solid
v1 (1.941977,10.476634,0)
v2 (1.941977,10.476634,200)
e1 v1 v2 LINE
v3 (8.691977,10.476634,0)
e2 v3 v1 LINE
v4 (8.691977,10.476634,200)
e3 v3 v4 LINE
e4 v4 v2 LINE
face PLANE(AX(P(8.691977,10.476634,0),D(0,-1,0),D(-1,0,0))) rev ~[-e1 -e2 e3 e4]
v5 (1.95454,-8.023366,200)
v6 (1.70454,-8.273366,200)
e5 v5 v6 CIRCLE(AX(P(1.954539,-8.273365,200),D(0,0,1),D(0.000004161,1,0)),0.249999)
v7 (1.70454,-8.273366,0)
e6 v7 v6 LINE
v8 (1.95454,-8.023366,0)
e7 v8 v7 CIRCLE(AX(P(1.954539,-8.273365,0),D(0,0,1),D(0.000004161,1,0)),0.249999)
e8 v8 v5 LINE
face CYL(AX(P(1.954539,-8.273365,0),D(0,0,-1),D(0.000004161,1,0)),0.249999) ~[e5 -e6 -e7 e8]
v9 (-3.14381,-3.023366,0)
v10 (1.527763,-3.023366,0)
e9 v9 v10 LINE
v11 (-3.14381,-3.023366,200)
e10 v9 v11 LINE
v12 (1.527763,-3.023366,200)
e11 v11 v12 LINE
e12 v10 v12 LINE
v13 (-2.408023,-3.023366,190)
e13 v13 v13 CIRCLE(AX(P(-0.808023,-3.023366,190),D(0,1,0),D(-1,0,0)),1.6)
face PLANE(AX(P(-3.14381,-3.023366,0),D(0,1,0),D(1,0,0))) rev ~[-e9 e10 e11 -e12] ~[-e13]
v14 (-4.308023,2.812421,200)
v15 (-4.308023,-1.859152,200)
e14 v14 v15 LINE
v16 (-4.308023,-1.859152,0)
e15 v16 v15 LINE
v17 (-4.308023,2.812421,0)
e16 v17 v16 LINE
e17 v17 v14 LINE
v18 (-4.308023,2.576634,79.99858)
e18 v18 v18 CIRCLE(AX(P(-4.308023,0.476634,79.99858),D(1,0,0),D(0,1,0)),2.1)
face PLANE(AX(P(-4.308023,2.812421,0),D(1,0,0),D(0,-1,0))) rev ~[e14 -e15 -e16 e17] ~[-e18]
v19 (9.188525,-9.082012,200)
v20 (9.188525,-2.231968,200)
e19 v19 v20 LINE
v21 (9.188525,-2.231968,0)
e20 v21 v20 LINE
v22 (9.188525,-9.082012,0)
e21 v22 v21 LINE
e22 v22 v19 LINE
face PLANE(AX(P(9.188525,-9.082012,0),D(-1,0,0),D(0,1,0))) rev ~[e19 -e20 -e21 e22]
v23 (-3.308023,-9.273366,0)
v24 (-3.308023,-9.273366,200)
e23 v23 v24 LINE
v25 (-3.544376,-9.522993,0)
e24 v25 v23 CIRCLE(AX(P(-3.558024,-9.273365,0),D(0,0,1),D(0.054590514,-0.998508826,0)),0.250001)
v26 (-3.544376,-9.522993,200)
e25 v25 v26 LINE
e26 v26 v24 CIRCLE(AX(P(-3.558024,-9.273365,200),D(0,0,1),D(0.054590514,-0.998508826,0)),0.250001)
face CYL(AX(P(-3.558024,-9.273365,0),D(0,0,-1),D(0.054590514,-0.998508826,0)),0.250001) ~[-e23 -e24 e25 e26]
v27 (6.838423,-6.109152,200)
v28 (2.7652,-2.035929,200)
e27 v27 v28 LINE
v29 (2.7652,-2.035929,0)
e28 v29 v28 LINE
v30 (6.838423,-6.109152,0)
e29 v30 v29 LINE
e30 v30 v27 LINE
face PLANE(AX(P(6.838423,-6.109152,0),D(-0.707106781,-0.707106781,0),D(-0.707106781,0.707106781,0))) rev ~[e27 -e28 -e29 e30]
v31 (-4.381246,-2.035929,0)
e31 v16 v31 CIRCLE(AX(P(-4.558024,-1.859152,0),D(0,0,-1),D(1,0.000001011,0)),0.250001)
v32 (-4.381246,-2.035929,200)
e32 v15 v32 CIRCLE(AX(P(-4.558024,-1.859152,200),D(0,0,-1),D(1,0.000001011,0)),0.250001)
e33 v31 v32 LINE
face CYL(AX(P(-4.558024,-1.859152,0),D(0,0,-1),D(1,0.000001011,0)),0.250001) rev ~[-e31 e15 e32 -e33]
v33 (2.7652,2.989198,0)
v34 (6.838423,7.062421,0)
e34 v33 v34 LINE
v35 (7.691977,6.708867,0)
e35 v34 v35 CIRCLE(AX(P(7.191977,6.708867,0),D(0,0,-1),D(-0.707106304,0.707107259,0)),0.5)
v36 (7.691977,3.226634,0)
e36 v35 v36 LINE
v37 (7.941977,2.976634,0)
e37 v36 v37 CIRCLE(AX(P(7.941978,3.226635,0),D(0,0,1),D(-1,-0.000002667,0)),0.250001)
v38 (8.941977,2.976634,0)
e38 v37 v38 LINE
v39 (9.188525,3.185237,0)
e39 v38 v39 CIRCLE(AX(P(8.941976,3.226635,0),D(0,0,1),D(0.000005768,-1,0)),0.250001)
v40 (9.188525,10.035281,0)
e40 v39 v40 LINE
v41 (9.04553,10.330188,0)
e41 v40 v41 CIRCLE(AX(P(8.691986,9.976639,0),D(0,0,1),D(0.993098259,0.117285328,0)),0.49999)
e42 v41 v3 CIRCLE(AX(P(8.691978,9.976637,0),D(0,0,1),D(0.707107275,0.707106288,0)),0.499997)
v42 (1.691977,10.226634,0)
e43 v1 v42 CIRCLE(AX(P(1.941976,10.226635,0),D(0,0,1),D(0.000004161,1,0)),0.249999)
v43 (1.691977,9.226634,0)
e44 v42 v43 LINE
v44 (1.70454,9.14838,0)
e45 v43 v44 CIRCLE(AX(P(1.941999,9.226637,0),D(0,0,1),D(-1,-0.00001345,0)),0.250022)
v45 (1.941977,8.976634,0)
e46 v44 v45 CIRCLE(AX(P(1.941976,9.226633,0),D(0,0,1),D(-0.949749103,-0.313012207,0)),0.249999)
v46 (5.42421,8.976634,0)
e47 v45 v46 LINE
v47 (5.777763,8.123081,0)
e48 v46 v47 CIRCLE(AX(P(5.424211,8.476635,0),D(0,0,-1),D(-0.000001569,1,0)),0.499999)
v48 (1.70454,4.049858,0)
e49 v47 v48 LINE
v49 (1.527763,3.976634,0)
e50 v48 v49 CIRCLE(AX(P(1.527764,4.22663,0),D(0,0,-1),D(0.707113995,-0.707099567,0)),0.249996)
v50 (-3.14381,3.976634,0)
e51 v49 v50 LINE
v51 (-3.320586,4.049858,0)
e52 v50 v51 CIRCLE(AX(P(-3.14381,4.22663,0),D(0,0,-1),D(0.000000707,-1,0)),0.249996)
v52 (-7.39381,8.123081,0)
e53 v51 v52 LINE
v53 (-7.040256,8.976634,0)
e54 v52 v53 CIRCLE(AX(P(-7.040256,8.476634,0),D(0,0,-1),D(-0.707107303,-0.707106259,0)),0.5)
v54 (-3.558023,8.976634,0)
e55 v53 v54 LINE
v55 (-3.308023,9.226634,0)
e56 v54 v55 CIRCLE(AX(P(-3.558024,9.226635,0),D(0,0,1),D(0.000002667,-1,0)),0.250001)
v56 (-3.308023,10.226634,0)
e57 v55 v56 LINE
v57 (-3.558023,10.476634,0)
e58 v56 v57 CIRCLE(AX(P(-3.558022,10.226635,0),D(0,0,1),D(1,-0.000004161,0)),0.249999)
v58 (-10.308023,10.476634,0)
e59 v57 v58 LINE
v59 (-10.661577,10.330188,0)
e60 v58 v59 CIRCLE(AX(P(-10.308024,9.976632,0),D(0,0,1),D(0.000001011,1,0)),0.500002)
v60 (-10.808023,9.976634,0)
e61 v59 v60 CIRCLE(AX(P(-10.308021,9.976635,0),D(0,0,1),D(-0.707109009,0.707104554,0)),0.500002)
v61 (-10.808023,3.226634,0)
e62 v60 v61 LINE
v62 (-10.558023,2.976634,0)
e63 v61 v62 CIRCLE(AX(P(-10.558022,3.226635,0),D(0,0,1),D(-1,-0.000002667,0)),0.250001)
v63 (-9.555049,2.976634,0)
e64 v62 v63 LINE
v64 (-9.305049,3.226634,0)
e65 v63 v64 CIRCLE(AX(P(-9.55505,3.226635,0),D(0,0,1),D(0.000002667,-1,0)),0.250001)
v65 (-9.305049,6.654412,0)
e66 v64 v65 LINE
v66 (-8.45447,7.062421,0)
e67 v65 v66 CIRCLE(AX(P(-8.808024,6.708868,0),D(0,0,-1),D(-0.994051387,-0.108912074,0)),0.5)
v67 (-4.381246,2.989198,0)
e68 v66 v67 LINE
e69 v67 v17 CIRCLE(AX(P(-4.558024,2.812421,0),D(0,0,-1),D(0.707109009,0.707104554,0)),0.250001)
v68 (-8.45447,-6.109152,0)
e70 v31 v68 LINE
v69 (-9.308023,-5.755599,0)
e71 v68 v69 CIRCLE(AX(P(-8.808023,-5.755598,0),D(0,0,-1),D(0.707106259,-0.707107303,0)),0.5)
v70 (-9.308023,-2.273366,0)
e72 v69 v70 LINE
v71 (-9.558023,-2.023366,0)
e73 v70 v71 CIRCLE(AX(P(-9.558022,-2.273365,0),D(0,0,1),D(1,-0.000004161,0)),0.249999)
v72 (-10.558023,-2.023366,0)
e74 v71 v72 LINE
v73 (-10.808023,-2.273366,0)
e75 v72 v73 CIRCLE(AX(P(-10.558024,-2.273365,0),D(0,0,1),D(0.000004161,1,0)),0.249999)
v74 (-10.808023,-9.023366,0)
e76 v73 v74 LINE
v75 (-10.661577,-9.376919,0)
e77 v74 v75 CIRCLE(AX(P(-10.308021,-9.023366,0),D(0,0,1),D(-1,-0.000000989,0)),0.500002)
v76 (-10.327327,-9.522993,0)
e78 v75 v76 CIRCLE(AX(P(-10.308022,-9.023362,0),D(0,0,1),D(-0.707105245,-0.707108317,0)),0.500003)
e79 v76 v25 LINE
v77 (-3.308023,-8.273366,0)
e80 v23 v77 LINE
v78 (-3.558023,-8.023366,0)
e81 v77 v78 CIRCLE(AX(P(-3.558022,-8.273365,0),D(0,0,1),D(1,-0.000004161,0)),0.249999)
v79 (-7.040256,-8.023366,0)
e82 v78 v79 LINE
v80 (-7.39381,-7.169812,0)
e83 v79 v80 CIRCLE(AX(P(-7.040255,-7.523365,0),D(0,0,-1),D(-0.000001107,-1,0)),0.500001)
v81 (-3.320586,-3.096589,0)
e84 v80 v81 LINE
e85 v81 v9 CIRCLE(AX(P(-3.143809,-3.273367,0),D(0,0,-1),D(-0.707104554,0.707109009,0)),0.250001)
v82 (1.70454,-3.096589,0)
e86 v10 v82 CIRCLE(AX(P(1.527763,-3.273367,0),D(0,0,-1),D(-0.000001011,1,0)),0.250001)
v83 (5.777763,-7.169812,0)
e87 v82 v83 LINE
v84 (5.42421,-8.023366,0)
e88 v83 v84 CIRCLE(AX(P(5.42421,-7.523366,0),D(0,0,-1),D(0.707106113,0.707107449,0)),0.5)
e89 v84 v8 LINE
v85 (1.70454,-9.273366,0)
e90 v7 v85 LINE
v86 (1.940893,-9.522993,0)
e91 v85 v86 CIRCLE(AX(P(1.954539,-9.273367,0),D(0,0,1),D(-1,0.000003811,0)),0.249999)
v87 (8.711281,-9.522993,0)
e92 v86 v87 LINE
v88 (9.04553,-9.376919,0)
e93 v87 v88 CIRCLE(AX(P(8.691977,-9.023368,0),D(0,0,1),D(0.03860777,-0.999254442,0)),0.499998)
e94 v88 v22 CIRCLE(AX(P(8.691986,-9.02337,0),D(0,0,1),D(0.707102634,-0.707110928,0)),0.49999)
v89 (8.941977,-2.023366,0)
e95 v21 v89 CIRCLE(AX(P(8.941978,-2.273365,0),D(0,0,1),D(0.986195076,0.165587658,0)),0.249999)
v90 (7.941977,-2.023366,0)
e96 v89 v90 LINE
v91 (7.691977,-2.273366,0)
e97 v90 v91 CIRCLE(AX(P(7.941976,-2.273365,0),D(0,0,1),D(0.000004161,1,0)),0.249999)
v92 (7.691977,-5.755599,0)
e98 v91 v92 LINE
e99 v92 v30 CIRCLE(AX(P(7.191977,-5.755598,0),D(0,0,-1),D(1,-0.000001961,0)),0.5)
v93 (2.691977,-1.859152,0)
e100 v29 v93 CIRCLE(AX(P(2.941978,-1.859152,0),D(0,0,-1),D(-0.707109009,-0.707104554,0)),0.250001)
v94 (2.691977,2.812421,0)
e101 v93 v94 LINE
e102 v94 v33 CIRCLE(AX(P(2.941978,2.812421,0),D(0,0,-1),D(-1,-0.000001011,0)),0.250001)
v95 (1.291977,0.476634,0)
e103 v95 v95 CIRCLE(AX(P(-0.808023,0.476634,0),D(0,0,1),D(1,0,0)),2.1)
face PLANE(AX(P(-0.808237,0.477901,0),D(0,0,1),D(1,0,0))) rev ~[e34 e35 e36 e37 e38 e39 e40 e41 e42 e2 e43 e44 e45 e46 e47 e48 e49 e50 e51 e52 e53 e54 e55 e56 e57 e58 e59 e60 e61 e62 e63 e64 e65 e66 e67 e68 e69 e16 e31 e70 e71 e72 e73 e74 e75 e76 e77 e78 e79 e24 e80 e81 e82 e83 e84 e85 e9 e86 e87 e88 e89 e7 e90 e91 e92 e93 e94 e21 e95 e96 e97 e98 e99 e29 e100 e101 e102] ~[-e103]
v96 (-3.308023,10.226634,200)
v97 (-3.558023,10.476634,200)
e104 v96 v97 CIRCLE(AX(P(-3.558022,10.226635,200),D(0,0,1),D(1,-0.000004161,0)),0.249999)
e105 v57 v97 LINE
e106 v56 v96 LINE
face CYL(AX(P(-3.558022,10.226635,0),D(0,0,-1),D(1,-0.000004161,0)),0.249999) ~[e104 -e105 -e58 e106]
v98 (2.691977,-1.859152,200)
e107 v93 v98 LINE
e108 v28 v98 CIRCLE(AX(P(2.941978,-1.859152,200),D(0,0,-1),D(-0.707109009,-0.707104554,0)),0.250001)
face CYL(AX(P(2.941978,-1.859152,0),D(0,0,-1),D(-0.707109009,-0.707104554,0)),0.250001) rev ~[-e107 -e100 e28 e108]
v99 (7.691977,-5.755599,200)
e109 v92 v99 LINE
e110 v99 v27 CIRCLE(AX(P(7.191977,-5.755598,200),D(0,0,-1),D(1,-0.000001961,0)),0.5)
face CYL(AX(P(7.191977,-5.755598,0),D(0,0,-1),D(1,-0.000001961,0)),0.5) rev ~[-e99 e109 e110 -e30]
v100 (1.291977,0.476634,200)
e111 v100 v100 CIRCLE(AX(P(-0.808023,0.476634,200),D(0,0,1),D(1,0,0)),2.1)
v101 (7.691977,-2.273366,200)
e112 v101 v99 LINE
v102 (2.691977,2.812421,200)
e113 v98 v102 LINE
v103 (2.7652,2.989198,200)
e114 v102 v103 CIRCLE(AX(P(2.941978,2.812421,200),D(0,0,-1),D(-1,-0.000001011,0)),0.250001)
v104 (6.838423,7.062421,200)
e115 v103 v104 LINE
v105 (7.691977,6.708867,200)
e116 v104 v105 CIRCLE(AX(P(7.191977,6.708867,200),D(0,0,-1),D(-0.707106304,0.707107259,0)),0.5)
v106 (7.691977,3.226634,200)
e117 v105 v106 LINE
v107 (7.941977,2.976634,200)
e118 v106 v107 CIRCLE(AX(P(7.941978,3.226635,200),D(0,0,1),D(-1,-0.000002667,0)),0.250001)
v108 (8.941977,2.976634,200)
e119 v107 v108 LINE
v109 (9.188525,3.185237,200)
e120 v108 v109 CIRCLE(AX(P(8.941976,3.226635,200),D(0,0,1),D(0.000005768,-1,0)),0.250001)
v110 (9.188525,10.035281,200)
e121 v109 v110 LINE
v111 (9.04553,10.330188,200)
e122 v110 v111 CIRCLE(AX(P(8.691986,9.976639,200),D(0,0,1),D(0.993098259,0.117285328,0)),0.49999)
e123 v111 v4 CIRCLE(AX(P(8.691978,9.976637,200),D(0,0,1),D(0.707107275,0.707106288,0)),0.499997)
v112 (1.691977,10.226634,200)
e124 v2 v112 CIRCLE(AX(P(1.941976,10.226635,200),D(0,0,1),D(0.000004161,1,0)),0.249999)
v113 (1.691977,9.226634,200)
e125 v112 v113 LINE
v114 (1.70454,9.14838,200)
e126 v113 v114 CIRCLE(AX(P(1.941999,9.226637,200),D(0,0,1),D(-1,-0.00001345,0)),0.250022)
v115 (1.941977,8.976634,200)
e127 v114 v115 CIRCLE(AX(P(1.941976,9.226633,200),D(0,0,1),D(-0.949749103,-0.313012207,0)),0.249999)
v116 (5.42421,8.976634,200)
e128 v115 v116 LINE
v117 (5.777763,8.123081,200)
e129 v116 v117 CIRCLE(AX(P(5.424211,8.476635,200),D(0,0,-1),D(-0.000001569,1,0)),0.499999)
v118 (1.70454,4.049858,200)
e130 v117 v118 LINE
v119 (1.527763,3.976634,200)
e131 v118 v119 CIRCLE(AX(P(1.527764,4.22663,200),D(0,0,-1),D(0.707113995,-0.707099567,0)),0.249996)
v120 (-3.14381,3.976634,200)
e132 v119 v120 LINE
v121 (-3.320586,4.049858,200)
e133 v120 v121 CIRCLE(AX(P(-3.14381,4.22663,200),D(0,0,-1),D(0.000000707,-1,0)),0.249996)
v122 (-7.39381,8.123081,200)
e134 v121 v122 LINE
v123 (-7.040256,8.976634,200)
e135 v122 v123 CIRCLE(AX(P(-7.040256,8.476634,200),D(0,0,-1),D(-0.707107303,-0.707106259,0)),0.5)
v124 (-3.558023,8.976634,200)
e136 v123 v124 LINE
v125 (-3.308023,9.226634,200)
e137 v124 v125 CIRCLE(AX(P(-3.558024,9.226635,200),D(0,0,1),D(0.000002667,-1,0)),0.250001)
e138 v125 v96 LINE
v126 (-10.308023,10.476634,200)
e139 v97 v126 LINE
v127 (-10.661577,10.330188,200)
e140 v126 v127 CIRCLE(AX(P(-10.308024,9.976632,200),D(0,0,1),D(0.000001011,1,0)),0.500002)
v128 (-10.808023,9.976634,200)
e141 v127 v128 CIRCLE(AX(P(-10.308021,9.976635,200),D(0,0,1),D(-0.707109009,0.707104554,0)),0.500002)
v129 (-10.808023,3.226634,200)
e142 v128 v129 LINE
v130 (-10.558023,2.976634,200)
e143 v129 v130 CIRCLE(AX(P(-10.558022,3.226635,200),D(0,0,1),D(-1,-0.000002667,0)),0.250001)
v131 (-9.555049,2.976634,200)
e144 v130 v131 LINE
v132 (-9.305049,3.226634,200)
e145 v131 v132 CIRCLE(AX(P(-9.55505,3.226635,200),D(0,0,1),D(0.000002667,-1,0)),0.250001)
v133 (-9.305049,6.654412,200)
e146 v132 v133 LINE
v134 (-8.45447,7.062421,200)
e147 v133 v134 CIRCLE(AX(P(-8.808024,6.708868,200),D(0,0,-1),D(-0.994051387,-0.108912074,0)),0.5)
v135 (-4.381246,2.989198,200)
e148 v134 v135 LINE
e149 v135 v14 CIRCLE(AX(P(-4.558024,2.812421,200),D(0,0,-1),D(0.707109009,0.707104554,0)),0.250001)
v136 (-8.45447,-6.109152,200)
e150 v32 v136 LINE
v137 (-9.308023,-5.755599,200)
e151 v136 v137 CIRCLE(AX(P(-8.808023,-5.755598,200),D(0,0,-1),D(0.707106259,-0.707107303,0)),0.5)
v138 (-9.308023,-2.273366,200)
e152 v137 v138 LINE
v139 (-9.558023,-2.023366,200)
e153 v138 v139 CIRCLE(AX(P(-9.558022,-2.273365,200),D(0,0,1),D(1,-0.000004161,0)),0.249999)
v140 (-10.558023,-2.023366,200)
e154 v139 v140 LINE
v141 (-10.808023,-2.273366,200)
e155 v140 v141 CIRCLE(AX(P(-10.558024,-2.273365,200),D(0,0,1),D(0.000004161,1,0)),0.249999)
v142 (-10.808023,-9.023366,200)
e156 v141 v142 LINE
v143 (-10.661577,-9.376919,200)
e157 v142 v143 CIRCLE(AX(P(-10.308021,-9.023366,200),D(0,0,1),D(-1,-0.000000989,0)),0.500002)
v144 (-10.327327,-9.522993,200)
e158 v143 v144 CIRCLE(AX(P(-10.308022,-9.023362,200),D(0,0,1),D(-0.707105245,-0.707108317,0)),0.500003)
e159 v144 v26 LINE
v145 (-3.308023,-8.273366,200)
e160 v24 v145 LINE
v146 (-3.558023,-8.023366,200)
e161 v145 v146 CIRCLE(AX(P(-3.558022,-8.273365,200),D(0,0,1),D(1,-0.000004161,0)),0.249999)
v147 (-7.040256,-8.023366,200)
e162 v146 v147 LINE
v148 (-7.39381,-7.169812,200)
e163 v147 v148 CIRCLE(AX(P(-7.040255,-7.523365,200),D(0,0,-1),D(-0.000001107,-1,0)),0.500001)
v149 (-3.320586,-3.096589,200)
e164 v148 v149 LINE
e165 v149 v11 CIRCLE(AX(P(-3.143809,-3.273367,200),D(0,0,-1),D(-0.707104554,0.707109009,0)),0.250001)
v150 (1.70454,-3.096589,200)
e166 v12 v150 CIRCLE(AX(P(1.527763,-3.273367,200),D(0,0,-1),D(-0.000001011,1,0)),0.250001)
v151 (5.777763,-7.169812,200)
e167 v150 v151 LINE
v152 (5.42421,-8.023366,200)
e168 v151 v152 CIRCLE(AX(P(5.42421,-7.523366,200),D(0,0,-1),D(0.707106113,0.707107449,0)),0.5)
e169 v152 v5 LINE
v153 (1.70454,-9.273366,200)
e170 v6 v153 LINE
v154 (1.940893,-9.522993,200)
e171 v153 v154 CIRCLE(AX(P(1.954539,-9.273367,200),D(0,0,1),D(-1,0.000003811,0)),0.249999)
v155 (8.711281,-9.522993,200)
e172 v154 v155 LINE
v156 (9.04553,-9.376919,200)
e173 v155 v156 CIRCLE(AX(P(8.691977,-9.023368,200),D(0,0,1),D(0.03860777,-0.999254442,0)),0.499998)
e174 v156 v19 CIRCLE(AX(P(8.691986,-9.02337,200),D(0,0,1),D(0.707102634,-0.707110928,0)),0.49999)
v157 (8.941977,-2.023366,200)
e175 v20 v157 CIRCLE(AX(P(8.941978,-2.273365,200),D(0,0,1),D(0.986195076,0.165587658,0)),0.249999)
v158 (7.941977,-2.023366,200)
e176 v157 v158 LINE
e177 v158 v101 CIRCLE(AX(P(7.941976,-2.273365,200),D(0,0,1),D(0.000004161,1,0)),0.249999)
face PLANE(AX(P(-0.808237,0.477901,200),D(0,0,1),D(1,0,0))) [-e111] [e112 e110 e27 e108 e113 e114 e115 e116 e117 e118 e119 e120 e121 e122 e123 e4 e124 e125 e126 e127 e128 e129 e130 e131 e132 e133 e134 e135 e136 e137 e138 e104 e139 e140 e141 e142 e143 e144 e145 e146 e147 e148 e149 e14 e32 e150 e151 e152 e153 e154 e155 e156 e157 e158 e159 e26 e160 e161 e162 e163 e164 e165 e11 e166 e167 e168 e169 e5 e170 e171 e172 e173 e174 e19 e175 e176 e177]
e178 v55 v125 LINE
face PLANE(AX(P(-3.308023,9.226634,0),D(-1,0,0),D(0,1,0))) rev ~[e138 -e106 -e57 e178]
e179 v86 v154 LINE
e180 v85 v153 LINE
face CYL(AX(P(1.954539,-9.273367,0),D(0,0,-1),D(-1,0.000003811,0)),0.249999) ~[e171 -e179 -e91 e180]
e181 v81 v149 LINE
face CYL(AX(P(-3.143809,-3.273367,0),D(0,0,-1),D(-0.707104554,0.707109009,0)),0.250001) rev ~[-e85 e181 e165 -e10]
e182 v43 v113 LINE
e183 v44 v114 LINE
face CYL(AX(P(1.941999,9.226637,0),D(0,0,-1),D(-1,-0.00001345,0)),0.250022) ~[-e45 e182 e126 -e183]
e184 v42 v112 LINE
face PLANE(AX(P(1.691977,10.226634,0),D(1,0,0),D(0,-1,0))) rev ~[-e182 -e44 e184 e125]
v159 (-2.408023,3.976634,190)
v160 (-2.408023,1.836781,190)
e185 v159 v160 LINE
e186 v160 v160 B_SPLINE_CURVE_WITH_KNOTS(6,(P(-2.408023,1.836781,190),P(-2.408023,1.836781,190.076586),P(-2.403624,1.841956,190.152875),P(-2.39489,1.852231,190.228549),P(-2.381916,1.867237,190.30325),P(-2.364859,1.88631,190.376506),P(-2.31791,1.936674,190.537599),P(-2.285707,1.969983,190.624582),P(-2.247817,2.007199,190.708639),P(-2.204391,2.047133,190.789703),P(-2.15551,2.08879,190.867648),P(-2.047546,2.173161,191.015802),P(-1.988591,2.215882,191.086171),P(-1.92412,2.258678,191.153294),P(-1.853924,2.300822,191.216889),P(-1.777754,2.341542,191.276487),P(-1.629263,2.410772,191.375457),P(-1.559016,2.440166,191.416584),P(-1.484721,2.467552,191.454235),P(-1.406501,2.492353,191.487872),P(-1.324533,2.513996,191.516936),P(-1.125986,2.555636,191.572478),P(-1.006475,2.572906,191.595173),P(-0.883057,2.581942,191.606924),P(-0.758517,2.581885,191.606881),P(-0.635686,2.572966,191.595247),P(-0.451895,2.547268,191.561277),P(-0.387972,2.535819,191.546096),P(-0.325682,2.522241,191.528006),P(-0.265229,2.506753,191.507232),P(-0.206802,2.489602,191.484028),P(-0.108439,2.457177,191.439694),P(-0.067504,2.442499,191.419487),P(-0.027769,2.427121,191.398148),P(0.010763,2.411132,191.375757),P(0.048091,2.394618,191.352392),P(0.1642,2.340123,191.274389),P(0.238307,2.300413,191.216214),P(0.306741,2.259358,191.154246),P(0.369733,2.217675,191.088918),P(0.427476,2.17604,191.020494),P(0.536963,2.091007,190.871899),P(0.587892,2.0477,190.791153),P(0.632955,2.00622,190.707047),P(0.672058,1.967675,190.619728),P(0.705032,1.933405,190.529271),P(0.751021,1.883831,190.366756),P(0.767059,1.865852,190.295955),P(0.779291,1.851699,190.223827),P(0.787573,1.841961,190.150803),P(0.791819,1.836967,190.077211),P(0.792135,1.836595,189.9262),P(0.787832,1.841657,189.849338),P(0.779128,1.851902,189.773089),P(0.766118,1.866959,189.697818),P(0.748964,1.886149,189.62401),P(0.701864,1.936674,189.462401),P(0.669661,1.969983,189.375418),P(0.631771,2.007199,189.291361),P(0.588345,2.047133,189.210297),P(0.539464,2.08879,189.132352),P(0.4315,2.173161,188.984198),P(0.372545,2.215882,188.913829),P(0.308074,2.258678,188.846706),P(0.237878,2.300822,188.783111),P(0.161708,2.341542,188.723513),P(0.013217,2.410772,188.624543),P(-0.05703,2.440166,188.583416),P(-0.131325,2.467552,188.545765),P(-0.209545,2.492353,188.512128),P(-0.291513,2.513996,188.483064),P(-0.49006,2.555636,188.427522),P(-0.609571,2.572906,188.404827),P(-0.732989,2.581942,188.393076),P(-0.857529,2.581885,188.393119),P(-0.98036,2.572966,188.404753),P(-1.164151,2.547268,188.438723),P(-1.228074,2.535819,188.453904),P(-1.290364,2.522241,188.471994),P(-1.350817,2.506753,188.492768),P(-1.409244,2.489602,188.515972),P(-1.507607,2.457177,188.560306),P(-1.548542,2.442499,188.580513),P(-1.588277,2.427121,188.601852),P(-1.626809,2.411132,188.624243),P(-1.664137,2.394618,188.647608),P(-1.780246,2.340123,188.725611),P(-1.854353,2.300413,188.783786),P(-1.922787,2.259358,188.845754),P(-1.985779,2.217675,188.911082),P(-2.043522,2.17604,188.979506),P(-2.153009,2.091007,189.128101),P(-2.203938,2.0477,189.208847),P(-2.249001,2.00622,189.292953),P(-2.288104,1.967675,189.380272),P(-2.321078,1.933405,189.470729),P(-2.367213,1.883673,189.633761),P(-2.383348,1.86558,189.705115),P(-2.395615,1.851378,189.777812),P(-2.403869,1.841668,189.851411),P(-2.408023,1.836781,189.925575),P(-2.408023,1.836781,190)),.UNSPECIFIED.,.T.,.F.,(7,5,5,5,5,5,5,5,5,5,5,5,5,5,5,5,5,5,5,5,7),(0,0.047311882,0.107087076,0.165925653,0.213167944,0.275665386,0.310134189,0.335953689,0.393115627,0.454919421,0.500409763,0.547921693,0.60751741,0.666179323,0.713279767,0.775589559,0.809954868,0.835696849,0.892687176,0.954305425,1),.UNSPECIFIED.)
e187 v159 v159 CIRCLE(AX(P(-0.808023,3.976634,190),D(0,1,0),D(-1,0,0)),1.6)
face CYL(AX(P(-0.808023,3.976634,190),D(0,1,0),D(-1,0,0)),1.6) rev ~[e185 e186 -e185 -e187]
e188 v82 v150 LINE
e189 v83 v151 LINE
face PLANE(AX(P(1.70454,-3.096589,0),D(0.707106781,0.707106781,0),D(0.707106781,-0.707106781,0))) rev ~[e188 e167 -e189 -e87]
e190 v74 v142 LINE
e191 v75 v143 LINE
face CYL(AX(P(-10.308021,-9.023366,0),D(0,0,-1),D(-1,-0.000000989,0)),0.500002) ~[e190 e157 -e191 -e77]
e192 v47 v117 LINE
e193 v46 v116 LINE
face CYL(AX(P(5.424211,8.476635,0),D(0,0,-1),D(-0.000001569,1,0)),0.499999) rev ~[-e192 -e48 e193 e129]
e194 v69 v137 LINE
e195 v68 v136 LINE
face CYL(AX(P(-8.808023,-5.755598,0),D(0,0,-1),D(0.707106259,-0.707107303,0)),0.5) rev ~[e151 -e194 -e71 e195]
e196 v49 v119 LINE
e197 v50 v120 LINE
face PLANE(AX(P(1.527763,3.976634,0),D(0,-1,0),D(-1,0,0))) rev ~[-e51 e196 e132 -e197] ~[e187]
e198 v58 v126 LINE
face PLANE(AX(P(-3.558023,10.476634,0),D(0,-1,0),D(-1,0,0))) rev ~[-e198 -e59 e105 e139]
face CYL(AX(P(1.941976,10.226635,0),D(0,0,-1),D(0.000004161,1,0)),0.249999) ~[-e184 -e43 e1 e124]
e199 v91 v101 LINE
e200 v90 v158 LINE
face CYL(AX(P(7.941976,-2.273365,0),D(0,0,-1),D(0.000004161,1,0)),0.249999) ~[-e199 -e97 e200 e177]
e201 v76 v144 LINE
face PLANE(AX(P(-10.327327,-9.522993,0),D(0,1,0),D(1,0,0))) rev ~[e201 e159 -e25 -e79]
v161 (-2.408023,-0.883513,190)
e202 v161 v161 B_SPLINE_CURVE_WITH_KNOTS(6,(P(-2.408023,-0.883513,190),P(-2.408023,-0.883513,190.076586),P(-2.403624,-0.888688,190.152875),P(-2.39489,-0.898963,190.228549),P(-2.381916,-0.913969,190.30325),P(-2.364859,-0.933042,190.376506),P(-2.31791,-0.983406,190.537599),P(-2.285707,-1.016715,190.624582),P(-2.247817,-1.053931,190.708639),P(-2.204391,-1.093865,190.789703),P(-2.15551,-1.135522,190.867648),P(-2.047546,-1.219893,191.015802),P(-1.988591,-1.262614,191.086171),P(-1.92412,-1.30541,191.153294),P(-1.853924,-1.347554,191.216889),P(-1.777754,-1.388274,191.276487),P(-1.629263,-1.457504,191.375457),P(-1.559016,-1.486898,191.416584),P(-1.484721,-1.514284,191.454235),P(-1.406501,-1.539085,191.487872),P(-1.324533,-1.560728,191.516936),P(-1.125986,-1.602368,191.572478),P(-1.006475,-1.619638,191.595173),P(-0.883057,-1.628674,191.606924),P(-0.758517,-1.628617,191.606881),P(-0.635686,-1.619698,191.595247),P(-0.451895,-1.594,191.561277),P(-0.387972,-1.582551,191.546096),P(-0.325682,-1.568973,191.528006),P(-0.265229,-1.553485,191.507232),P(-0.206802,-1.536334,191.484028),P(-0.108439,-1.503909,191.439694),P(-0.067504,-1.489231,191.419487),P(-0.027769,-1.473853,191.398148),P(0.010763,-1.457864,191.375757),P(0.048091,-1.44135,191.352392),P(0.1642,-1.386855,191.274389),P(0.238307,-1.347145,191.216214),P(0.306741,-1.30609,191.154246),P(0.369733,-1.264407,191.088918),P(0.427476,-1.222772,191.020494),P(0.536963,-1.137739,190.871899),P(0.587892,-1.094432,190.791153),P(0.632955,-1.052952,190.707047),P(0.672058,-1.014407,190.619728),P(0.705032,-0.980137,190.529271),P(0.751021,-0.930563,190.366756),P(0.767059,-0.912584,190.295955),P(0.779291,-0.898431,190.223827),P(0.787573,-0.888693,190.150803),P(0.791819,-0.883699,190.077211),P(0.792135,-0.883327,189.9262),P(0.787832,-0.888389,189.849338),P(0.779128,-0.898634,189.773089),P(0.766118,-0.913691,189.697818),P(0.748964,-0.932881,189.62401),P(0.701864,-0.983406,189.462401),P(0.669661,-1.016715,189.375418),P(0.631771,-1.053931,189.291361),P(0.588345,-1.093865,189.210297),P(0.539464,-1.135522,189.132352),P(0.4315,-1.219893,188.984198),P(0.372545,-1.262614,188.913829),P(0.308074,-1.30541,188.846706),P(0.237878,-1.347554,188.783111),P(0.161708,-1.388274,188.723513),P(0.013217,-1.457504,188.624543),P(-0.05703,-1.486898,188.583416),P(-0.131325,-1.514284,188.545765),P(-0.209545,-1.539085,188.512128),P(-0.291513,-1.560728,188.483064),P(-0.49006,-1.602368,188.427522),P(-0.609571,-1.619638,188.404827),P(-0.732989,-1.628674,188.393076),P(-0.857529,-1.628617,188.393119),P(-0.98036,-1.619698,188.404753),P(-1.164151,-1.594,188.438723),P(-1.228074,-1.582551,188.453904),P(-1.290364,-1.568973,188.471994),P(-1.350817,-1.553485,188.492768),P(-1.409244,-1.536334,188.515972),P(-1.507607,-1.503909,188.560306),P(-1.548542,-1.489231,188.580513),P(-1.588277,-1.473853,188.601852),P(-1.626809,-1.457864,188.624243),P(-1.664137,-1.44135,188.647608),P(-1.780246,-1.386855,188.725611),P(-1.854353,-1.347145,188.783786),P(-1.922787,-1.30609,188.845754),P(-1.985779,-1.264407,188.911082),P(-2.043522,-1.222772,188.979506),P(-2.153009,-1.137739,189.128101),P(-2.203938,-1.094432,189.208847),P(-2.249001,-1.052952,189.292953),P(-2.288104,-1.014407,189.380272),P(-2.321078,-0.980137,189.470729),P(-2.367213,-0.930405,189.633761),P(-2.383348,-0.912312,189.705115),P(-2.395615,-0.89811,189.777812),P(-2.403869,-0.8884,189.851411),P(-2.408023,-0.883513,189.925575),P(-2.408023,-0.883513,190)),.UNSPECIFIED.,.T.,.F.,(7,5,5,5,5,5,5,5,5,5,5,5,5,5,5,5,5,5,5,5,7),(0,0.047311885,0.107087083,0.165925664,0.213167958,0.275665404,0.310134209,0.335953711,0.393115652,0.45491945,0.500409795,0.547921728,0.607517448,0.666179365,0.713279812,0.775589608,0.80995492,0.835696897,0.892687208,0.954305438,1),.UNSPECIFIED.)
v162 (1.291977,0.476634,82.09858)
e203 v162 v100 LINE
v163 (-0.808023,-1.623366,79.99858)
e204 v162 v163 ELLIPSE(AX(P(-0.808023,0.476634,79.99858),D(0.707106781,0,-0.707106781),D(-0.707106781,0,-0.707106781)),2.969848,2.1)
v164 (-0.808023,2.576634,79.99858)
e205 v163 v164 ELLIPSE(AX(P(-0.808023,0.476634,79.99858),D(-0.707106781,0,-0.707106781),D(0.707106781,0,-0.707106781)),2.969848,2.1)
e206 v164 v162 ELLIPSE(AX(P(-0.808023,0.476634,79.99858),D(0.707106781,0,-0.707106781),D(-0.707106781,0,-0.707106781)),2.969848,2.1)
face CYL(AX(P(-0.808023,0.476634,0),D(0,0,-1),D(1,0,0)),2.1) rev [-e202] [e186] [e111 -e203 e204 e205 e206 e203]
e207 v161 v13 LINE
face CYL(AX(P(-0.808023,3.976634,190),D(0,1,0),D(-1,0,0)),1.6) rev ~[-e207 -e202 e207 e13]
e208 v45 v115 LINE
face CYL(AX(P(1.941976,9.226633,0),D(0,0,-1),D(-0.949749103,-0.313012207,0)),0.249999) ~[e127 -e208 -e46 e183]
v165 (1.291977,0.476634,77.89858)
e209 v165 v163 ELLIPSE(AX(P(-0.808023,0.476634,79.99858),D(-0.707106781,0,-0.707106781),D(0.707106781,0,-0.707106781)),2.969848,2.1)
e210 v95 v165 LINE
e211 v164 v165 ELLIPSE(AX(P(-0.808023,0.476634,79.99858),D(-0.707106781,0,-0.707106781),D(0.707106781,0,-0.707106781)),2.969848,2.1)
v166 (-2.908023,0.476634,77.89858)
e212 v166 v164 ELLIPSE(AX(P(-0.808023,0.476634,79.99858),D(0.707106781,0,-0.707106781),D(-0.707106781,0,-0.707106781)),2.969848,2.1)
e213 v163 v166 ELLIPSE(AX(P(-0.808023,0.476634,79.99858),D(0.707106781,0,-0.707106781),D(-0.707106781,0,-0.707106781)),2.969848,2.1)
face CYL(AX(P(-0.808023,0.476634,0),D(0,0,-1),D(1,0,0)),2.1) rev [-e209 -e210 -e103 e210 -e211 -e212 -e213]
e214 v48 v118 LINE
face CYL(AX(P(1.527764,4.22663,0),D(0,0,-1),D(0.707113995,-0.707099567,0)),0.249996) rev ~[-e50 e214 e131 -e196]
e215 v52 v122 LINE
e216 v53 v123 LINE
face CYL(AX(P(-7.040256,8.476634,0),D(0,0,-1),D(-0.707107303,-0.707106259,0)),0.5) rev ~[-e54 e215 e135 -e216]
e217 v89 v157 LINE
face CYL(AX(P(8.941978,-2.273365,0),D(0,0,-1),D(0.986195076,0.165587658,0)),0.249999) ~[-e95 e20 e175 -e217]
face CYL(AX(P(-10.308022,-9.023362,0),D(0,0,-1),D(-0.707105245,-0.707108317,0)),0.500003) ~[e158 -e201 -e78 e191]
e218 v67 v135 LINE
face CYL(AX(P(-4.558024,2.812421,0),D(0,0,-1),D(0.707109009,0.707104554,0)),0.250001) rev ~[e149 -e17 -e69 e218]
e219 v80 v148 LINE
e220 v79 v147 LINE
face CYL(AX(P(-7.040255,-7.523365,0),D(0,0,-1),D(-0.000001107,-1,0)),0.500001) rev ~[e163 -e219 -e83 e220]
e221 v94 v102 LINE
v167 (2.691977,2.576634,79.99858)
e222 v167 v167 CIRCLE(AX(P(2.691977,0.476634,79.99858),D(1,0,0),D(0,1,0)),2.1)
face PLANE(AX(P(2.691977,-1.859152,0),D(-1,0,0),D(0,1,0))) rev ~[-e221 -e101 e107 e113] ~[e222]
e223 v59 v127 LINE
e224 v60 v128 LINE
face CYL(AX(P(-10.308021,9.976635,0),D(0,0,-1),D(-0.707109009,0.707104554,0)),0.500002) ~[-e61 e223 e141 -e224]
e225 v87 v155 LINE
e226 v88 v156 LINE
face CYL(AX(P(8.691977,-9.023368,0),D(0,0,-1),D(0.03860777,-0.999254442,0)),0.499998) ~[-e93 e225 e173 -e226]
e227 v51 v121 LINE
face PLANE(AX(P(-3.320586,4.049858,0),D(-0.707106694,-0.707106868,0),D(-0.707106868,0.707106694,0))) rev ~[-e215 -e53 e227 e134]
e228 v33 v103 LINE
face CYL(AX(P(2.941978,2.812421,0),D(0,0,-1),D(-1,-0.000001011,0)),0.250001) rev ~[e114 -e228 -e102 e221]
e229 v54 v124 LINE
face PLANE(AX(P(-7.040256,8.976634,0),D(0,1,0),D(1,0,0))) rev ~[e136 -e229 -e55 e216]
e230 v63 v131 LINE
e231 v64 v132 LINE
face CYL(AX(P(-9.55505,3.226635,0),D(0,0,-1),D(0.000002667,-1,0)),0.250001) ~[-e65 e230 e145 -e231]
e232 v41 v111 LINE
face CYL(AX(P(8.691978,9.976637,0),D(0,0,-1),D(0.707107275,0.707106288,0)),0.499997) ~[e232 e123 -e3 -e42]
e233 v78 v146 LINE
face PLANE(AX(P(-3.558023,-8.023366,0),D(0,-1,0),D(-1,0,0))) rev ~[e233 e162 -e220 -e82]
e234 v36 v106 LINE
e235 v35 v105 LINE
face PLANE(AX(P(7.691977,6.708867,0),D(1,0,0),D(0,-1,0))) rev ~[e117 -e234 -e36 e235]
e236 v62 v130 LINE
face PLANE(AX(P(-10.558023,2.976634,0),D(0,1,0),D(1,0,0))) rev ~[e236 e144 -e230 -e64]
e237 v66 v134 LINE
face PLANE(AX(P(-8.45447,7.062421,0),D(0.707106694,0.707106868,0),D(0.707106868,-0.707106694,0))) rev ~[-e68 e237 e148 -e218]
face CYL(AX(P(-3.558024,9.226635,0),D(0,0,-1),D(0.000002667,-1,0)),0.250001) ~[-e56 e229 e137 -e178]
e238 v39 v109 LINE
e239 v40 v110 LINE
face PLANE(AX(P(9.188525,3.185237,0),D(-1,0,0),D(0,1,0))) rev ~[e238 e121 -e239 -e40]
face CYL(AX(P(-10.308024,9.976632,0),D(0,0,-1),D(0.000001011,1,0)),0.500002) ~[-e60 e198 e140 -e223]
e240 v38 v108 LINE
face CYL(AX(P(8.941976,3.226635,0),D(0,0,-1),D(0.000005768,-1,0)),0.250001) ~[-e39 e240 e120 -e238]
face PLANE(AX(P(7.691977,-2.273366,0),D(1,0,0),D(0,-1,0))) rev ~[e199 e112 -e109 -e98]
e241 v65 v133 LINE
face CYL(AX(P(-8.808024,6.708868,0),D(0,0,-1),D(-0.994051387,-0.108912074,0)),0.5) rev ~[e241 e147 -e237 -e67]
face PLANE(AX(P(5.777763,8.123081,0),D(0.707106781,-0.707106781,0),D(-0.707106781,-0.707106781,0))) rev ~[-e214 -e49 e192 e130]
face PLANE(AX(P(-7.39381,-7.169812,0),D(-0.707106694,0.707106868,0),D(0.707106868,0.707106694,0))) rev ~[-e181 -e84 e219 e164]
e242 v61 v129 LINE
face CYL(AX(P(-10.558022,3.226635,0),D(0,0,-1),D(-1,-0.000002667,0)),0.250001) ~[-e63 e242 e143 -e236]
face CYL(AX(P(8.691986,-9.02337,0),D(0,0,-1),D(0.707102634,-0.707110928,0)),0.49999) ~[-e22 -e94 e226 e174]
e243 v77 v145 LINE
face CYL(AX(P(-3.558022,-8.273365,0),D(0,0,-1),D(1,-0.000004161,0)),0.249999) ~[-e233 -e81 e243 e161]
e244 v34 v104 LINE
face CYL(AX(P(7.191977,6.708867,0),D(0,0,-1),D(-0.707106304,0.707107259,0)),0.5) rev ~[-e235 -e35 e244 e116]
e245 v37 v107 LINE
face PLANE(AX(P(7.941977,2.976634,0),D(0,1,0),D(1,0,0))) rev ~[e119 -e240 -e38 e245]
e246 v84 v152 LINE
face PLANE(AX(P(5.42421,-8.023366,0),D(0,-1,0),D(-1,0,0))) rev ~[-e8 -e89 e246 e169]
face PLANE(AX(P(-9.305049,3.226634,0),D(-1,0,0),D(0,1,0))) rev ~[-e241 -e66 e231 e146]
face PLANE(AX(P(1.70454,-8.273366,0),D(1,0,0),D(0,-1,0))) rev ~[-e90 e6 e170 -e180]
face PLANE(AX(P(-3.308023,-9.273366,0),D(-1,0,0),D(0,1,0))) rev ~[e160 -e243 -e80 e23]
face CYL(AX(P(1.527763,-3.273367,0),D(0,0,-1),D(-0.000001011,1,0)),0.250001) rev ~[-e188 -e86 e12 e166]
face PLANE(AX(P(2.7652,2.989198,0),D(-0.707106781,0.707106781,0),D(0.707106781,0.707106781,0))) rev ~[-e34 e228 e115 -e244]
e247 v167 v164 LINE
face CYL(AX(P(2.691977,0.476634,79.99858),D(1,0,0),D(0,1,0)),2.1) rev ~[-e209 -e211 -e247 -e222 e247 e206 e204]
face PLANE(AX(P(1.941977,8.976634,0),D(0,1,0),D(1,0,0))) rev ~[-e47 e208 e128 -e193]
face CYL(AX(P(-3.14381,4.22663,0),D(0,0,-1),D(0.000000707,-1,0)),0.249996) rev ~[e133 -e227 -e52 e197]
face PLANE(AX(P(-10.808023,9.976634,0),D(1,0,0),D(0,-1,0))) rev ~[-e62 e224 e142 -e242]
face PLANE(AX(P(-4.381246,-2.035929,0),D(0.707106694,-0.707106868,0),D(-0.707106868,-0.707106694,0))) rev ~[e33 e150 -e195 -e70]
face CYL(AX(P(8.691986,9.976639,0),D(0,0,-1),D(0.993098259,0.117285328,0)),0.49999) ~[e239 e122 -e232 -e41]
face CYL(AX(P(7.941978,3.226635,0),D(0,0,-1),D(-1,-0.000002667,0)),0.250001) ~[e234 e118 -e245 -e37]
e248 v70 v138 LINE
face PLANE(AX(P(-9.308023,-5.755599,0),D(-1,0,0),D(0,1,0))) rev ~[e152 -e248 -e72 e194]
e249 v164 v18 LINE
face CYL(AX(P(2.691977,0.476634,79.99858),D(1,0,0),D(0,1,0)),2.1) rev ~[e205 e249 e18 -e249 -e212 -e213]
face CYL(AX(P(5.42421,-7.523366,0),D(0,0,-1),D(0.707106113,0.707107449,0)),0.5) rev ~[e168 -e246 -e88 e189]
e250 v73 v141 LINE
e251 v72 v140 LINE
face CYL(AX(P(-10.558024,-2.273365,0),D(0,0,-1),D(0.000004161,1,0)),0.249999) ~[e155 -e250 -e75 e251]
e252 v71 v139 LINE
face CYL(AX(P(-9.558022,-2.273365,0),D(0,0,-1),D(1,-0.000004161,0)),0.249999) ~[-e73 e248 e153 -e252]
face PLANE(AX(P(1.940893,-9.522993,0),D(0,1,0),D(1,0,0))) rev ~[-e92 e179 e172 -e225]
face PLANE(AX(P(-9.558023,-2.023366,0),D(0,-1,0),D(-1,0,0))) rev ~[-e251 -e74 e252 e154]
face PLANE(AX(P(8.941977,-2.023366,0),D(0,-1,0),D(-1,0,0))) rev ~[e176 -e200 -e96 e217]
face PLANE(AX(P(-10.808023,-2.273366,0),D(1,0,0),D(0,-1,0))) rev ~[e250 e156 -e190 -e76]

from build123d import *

# Parameters (mm, degrees)
F0_R     = 2.1
F1_DEPTH = 200
F2_R     = 2.1
F3_DEPTH = 7
F4_R     = 1.6
F5_DEPTH = 7


with BuildPart() as f1:
    # F0 (on Top) → F1 (new body)
    with BuildSketch(Plane.XY):
        with BuildLine():
            ThreePointArc((-3.308023, 10.226634), (-3.381246, 10.403411), (-3.558023, 10.476634))
            Line((-3.558023, 10.476634), (-10.308023, 10.476634))
            ThreePointArc((-10.308023, 10.476634), (-10.499365, 10.438574), (-10.661577, 10.330188))
            ThreePointArc((-10.661577, 10.330188), (-10.769963, 10.167976), (-10.808023, 9.976634))
            Line((-10.808023, 9.976634), (-10.808023, 3.226634))
            ThreePointArc((-10.808023, 3.226634), (-10.7348, 3.049858), (-10.558023, 2.976634))
            Line((-10.558023, 2.976634), (-9.555049, 2.976634))
            ThreePointArc((-9.555049, 2.976634), (-9.378272, 3.049858), (-9.305049, 3.226634))
            Line((-9.305049, 3.226634), (-9.305049, 6.654412))
            ThreePointArc((-9.305049, 6.654412), (-9.024273, 7.159685), (-8.45447, 7.062421))
            Line((-8.45447, 7.062421), (-4.381246, 2.989198))
            ThreePointArc((-4.381246, 2.989198), (-4.327053, 2.908092), (-4.308023, 2.812421))
            Line((-4.308023, 2.812421), (-4.308023, -1.859152))
            ThreePointArc((-4.308023, -1.859152), (-4.327053, -1.954823), (-4.381246, -2.035929))
            Line((-4.381246, -2.035929), (-8.45447, -6.109152))
            ThreePointArc((-8.45447, -6.109152), (-8.999365, -6.217538), (-9.308023, -5.755599))
            Line((-9.308023, -5.755599), (-9.308023, -2.273366))
            ThreePointArc((-9.308023, -2.273366), (-9.381246, -2.096589), (-9.558023, -2.023366))
            Line((-9.558023, -2.023366), (-10.558023, -2.023366))
            ThreePointArc((-10.558023, -2.023366), (-10.7348, -2.096589), (-10.808023, -2.273366))
            Line((-10.808023, -2.273366), (-10.808023, -9.023366))
            ThreePointArc((-10.808023, -9.023366), (-10.769963, -9.214707), (-10.661577, -9.376919))
            ThreePointArc((-10.661577, -9.376919), (-10.508248, -9.481525), (-10.327327, -9.522993))
            Line((-10.327327, -9.522993), (-3.544376, -9.522993))
            ThreePointArc((-3.544376, -9.522993), (-3.376486, -9.44525), (-3.308023, -9.273366))
            Line((-3.308023, -9.273366), (-3.308023, -8.273366))
            ThreePointArc((-3.308023, -8.273366), (-3.381246, -8.096589), (-3.558023, -8.023366))
            Line((-3.558023, -8.023366), (-7.040256, -8.023366))
            ThreePointArc((-7.040256, -8.023366), (-7.502196, -7.714707), (-7.39381, -7.169812))
            Line((-7.39381, -7.169812), (-3.320586, -3.096589))
            ThreePointArc((-3.320586, -3.096589), (-3.23948, -3.042396), (-3.14381, -3.023366))
            Line((-3.14381, -3.023366), (1.527763, -3.023366))
            ThreePointArc((1.527763, -3.023366), (1.623434, -3.042396), (1.70454, -3.096589))
            Line((1.70454, -3.096589), (5.777763, -7.169812))
            ThreePointArc((5.777763, -7.169812), (5.88615, -7.714707), (5.42421, -8.023366))
            Line((5.42421, -8.023366), (1.95454, -8.023366))
            ThreePointArc((1.95454, -8.023366), (1.777763, -8.096589), (1.70454, -8.273366))
            Line((1.70454, -8.273366), (1.70454, -9.273366))
            ThreePointArc((1.70454, -9.273366), (1.773002, -9.44525), (1.940893, -9.522993))
            Line((1.940893, -9.522993), (8.711281, -9.522993))
            ThreePointArc((8.711281, -9.522993), (8.892202, -9.481525), (9.04553, -9.376919))
            ThreePointArc((9.04553, -9.376919), (9.141878, -9.241515), (9.188525, -9.082012))
            Line((9.188525, -9.082012), (9.188525, -2.231968))
            ThreePointArc((9.188525, -2.231968), (9.103455, -2.082513), (8.941977, -2.023366))
            Line((8.941977, -2.023366), (7.941977, -2.023366))
            ThreePointArc((7.941977, -2.023366), (7.7652, -2.096589), (7.691977, -2.273366))
            Line((7.691977, -2.273366), (7.691977, -5.755599))
            ThreePointArc((7.691977, -5.755599), (7.383319, -6.217538), (6.838423, -6.109152))
            Line((6.838423, -6.109152), (2.7652, -2.035929))
            ThreePointArc((2.7652, -2.035929), (2.711007, -1.954823), (2.691977, -1.859152))
            Line((2.691977, -1.859152), (2.691977, 2.812421))
            ThreePointArc((2.691977, 2.812421), (2.711007, 2.908092), (2.7652, 2.989198))
            Line((2.7652, 2.989198), (6.838423, 7.062421))
            ThreePointArc((6.838423, 7.062421), (7.383319, 7.170807), (7.691977, 6.708867))
            Line((7.691977, 6.708867), (7.691977, 3.226634))
            ThreePointArc((7.691977, 3.226634), (7.7652, 3.049858), (7.941977, 2.976634))
            Line((7.941977, 2.976634), (8.941977, 2.976634))
            ThreePointArc((8.941977, 2.976634), (9.103455, 3.035782), (9.188525, 3.185237))
            Line((9.188525, 3.185237), (9.188525, 10.035281))
            ThreePointArc((9.188525, 10.035281), (9.141878, 10.194784), (9.04553, 10.330188))
            ThreePointArc((9.04553, 10.330188), (8.883319, 10.438574), (8.691977, 10.476634))
            Line((8.691977, 10.476634), (1.941977, 10.476634))
            ThreePointArc((1.941977, 10.476634), (1.7652, 10.403411), (1.691977, 10.226634))
            Line((1.691977, 10.226634), (1.691977, 9.226634))
            ThreePointArc((1.691977, 9.226634), (1.695138, 9.187006), (1.70454, 9.14838))
            ThreePointArc((1.70454, 9.14838), (1.795456, 9.024071), (1.941977, 8.976634))
            Line((1.941977, 8.976634), (5.42421, 8.976634))
            ThreePointArc((5.42421, 8.976634), (5.88615, 8.667976), (5.777763, 8.123081))
            Line((5.777763, 8.123081), (1.70454, 4.049858))
            ThreePointArc((1.70454, 4.049858), (1.623434, 3.995664), (1.527763, 3.976634))
            Line((1.527763, 3.976634), (-3.14381, 3.976634))
            ThreePointArc((-3.14381, 3.976634), (-3.23948, 3.995664), (-3.320586, 4.049858))
            Line((-3.320586, 4.049858), (-7.39381, 8.123081))
            ThreePointArc((-7.39381, 8.123081), (-7.502196, 8.667976), (-7.040256, 8.976634))
            Line((-7.040256, 8.976634), (-3.558023, 8.976634))
            ThreePointArc((-3.558023, 8.976634), (-3.381246, 9.049858), (-3.308023, 9.226634))
            Line((-3.308023, 9.226634), (-3.308023, 9.726634))
            Line((-3.308023, 9.726634), (-3.308023, 10.226634))
        make_face()
        with Locations((-0.808023, 0.476634)):
            Circle(F0_R, mode=Mode.SUBTRACT)
    extrude(amount=F1_DEPTH)

    # F2 (on face) → F3 (cut)
    with BuildSketch(Plane.YZ.offset(2.691977)):
        with Locations((0.476634, 79.99858)):
            Circle(F2_R)
    extrude(amount=-F3_DEPTH, mode=Mode.SUBTRACT)

    # F4 (on face) → F5 (cut)
    with BuildSketch(Plane(origin=(0, 3.976634, 0), x_dir=(-1, 0, 0), z_dir=(0, 1, 0))):
        with Locations((0.808023, 190)):
            Circle(F4_R)
    extrude(amount=-F5_DEPTH, mode=Mode.SUBTRACT)


solid = f1.part
